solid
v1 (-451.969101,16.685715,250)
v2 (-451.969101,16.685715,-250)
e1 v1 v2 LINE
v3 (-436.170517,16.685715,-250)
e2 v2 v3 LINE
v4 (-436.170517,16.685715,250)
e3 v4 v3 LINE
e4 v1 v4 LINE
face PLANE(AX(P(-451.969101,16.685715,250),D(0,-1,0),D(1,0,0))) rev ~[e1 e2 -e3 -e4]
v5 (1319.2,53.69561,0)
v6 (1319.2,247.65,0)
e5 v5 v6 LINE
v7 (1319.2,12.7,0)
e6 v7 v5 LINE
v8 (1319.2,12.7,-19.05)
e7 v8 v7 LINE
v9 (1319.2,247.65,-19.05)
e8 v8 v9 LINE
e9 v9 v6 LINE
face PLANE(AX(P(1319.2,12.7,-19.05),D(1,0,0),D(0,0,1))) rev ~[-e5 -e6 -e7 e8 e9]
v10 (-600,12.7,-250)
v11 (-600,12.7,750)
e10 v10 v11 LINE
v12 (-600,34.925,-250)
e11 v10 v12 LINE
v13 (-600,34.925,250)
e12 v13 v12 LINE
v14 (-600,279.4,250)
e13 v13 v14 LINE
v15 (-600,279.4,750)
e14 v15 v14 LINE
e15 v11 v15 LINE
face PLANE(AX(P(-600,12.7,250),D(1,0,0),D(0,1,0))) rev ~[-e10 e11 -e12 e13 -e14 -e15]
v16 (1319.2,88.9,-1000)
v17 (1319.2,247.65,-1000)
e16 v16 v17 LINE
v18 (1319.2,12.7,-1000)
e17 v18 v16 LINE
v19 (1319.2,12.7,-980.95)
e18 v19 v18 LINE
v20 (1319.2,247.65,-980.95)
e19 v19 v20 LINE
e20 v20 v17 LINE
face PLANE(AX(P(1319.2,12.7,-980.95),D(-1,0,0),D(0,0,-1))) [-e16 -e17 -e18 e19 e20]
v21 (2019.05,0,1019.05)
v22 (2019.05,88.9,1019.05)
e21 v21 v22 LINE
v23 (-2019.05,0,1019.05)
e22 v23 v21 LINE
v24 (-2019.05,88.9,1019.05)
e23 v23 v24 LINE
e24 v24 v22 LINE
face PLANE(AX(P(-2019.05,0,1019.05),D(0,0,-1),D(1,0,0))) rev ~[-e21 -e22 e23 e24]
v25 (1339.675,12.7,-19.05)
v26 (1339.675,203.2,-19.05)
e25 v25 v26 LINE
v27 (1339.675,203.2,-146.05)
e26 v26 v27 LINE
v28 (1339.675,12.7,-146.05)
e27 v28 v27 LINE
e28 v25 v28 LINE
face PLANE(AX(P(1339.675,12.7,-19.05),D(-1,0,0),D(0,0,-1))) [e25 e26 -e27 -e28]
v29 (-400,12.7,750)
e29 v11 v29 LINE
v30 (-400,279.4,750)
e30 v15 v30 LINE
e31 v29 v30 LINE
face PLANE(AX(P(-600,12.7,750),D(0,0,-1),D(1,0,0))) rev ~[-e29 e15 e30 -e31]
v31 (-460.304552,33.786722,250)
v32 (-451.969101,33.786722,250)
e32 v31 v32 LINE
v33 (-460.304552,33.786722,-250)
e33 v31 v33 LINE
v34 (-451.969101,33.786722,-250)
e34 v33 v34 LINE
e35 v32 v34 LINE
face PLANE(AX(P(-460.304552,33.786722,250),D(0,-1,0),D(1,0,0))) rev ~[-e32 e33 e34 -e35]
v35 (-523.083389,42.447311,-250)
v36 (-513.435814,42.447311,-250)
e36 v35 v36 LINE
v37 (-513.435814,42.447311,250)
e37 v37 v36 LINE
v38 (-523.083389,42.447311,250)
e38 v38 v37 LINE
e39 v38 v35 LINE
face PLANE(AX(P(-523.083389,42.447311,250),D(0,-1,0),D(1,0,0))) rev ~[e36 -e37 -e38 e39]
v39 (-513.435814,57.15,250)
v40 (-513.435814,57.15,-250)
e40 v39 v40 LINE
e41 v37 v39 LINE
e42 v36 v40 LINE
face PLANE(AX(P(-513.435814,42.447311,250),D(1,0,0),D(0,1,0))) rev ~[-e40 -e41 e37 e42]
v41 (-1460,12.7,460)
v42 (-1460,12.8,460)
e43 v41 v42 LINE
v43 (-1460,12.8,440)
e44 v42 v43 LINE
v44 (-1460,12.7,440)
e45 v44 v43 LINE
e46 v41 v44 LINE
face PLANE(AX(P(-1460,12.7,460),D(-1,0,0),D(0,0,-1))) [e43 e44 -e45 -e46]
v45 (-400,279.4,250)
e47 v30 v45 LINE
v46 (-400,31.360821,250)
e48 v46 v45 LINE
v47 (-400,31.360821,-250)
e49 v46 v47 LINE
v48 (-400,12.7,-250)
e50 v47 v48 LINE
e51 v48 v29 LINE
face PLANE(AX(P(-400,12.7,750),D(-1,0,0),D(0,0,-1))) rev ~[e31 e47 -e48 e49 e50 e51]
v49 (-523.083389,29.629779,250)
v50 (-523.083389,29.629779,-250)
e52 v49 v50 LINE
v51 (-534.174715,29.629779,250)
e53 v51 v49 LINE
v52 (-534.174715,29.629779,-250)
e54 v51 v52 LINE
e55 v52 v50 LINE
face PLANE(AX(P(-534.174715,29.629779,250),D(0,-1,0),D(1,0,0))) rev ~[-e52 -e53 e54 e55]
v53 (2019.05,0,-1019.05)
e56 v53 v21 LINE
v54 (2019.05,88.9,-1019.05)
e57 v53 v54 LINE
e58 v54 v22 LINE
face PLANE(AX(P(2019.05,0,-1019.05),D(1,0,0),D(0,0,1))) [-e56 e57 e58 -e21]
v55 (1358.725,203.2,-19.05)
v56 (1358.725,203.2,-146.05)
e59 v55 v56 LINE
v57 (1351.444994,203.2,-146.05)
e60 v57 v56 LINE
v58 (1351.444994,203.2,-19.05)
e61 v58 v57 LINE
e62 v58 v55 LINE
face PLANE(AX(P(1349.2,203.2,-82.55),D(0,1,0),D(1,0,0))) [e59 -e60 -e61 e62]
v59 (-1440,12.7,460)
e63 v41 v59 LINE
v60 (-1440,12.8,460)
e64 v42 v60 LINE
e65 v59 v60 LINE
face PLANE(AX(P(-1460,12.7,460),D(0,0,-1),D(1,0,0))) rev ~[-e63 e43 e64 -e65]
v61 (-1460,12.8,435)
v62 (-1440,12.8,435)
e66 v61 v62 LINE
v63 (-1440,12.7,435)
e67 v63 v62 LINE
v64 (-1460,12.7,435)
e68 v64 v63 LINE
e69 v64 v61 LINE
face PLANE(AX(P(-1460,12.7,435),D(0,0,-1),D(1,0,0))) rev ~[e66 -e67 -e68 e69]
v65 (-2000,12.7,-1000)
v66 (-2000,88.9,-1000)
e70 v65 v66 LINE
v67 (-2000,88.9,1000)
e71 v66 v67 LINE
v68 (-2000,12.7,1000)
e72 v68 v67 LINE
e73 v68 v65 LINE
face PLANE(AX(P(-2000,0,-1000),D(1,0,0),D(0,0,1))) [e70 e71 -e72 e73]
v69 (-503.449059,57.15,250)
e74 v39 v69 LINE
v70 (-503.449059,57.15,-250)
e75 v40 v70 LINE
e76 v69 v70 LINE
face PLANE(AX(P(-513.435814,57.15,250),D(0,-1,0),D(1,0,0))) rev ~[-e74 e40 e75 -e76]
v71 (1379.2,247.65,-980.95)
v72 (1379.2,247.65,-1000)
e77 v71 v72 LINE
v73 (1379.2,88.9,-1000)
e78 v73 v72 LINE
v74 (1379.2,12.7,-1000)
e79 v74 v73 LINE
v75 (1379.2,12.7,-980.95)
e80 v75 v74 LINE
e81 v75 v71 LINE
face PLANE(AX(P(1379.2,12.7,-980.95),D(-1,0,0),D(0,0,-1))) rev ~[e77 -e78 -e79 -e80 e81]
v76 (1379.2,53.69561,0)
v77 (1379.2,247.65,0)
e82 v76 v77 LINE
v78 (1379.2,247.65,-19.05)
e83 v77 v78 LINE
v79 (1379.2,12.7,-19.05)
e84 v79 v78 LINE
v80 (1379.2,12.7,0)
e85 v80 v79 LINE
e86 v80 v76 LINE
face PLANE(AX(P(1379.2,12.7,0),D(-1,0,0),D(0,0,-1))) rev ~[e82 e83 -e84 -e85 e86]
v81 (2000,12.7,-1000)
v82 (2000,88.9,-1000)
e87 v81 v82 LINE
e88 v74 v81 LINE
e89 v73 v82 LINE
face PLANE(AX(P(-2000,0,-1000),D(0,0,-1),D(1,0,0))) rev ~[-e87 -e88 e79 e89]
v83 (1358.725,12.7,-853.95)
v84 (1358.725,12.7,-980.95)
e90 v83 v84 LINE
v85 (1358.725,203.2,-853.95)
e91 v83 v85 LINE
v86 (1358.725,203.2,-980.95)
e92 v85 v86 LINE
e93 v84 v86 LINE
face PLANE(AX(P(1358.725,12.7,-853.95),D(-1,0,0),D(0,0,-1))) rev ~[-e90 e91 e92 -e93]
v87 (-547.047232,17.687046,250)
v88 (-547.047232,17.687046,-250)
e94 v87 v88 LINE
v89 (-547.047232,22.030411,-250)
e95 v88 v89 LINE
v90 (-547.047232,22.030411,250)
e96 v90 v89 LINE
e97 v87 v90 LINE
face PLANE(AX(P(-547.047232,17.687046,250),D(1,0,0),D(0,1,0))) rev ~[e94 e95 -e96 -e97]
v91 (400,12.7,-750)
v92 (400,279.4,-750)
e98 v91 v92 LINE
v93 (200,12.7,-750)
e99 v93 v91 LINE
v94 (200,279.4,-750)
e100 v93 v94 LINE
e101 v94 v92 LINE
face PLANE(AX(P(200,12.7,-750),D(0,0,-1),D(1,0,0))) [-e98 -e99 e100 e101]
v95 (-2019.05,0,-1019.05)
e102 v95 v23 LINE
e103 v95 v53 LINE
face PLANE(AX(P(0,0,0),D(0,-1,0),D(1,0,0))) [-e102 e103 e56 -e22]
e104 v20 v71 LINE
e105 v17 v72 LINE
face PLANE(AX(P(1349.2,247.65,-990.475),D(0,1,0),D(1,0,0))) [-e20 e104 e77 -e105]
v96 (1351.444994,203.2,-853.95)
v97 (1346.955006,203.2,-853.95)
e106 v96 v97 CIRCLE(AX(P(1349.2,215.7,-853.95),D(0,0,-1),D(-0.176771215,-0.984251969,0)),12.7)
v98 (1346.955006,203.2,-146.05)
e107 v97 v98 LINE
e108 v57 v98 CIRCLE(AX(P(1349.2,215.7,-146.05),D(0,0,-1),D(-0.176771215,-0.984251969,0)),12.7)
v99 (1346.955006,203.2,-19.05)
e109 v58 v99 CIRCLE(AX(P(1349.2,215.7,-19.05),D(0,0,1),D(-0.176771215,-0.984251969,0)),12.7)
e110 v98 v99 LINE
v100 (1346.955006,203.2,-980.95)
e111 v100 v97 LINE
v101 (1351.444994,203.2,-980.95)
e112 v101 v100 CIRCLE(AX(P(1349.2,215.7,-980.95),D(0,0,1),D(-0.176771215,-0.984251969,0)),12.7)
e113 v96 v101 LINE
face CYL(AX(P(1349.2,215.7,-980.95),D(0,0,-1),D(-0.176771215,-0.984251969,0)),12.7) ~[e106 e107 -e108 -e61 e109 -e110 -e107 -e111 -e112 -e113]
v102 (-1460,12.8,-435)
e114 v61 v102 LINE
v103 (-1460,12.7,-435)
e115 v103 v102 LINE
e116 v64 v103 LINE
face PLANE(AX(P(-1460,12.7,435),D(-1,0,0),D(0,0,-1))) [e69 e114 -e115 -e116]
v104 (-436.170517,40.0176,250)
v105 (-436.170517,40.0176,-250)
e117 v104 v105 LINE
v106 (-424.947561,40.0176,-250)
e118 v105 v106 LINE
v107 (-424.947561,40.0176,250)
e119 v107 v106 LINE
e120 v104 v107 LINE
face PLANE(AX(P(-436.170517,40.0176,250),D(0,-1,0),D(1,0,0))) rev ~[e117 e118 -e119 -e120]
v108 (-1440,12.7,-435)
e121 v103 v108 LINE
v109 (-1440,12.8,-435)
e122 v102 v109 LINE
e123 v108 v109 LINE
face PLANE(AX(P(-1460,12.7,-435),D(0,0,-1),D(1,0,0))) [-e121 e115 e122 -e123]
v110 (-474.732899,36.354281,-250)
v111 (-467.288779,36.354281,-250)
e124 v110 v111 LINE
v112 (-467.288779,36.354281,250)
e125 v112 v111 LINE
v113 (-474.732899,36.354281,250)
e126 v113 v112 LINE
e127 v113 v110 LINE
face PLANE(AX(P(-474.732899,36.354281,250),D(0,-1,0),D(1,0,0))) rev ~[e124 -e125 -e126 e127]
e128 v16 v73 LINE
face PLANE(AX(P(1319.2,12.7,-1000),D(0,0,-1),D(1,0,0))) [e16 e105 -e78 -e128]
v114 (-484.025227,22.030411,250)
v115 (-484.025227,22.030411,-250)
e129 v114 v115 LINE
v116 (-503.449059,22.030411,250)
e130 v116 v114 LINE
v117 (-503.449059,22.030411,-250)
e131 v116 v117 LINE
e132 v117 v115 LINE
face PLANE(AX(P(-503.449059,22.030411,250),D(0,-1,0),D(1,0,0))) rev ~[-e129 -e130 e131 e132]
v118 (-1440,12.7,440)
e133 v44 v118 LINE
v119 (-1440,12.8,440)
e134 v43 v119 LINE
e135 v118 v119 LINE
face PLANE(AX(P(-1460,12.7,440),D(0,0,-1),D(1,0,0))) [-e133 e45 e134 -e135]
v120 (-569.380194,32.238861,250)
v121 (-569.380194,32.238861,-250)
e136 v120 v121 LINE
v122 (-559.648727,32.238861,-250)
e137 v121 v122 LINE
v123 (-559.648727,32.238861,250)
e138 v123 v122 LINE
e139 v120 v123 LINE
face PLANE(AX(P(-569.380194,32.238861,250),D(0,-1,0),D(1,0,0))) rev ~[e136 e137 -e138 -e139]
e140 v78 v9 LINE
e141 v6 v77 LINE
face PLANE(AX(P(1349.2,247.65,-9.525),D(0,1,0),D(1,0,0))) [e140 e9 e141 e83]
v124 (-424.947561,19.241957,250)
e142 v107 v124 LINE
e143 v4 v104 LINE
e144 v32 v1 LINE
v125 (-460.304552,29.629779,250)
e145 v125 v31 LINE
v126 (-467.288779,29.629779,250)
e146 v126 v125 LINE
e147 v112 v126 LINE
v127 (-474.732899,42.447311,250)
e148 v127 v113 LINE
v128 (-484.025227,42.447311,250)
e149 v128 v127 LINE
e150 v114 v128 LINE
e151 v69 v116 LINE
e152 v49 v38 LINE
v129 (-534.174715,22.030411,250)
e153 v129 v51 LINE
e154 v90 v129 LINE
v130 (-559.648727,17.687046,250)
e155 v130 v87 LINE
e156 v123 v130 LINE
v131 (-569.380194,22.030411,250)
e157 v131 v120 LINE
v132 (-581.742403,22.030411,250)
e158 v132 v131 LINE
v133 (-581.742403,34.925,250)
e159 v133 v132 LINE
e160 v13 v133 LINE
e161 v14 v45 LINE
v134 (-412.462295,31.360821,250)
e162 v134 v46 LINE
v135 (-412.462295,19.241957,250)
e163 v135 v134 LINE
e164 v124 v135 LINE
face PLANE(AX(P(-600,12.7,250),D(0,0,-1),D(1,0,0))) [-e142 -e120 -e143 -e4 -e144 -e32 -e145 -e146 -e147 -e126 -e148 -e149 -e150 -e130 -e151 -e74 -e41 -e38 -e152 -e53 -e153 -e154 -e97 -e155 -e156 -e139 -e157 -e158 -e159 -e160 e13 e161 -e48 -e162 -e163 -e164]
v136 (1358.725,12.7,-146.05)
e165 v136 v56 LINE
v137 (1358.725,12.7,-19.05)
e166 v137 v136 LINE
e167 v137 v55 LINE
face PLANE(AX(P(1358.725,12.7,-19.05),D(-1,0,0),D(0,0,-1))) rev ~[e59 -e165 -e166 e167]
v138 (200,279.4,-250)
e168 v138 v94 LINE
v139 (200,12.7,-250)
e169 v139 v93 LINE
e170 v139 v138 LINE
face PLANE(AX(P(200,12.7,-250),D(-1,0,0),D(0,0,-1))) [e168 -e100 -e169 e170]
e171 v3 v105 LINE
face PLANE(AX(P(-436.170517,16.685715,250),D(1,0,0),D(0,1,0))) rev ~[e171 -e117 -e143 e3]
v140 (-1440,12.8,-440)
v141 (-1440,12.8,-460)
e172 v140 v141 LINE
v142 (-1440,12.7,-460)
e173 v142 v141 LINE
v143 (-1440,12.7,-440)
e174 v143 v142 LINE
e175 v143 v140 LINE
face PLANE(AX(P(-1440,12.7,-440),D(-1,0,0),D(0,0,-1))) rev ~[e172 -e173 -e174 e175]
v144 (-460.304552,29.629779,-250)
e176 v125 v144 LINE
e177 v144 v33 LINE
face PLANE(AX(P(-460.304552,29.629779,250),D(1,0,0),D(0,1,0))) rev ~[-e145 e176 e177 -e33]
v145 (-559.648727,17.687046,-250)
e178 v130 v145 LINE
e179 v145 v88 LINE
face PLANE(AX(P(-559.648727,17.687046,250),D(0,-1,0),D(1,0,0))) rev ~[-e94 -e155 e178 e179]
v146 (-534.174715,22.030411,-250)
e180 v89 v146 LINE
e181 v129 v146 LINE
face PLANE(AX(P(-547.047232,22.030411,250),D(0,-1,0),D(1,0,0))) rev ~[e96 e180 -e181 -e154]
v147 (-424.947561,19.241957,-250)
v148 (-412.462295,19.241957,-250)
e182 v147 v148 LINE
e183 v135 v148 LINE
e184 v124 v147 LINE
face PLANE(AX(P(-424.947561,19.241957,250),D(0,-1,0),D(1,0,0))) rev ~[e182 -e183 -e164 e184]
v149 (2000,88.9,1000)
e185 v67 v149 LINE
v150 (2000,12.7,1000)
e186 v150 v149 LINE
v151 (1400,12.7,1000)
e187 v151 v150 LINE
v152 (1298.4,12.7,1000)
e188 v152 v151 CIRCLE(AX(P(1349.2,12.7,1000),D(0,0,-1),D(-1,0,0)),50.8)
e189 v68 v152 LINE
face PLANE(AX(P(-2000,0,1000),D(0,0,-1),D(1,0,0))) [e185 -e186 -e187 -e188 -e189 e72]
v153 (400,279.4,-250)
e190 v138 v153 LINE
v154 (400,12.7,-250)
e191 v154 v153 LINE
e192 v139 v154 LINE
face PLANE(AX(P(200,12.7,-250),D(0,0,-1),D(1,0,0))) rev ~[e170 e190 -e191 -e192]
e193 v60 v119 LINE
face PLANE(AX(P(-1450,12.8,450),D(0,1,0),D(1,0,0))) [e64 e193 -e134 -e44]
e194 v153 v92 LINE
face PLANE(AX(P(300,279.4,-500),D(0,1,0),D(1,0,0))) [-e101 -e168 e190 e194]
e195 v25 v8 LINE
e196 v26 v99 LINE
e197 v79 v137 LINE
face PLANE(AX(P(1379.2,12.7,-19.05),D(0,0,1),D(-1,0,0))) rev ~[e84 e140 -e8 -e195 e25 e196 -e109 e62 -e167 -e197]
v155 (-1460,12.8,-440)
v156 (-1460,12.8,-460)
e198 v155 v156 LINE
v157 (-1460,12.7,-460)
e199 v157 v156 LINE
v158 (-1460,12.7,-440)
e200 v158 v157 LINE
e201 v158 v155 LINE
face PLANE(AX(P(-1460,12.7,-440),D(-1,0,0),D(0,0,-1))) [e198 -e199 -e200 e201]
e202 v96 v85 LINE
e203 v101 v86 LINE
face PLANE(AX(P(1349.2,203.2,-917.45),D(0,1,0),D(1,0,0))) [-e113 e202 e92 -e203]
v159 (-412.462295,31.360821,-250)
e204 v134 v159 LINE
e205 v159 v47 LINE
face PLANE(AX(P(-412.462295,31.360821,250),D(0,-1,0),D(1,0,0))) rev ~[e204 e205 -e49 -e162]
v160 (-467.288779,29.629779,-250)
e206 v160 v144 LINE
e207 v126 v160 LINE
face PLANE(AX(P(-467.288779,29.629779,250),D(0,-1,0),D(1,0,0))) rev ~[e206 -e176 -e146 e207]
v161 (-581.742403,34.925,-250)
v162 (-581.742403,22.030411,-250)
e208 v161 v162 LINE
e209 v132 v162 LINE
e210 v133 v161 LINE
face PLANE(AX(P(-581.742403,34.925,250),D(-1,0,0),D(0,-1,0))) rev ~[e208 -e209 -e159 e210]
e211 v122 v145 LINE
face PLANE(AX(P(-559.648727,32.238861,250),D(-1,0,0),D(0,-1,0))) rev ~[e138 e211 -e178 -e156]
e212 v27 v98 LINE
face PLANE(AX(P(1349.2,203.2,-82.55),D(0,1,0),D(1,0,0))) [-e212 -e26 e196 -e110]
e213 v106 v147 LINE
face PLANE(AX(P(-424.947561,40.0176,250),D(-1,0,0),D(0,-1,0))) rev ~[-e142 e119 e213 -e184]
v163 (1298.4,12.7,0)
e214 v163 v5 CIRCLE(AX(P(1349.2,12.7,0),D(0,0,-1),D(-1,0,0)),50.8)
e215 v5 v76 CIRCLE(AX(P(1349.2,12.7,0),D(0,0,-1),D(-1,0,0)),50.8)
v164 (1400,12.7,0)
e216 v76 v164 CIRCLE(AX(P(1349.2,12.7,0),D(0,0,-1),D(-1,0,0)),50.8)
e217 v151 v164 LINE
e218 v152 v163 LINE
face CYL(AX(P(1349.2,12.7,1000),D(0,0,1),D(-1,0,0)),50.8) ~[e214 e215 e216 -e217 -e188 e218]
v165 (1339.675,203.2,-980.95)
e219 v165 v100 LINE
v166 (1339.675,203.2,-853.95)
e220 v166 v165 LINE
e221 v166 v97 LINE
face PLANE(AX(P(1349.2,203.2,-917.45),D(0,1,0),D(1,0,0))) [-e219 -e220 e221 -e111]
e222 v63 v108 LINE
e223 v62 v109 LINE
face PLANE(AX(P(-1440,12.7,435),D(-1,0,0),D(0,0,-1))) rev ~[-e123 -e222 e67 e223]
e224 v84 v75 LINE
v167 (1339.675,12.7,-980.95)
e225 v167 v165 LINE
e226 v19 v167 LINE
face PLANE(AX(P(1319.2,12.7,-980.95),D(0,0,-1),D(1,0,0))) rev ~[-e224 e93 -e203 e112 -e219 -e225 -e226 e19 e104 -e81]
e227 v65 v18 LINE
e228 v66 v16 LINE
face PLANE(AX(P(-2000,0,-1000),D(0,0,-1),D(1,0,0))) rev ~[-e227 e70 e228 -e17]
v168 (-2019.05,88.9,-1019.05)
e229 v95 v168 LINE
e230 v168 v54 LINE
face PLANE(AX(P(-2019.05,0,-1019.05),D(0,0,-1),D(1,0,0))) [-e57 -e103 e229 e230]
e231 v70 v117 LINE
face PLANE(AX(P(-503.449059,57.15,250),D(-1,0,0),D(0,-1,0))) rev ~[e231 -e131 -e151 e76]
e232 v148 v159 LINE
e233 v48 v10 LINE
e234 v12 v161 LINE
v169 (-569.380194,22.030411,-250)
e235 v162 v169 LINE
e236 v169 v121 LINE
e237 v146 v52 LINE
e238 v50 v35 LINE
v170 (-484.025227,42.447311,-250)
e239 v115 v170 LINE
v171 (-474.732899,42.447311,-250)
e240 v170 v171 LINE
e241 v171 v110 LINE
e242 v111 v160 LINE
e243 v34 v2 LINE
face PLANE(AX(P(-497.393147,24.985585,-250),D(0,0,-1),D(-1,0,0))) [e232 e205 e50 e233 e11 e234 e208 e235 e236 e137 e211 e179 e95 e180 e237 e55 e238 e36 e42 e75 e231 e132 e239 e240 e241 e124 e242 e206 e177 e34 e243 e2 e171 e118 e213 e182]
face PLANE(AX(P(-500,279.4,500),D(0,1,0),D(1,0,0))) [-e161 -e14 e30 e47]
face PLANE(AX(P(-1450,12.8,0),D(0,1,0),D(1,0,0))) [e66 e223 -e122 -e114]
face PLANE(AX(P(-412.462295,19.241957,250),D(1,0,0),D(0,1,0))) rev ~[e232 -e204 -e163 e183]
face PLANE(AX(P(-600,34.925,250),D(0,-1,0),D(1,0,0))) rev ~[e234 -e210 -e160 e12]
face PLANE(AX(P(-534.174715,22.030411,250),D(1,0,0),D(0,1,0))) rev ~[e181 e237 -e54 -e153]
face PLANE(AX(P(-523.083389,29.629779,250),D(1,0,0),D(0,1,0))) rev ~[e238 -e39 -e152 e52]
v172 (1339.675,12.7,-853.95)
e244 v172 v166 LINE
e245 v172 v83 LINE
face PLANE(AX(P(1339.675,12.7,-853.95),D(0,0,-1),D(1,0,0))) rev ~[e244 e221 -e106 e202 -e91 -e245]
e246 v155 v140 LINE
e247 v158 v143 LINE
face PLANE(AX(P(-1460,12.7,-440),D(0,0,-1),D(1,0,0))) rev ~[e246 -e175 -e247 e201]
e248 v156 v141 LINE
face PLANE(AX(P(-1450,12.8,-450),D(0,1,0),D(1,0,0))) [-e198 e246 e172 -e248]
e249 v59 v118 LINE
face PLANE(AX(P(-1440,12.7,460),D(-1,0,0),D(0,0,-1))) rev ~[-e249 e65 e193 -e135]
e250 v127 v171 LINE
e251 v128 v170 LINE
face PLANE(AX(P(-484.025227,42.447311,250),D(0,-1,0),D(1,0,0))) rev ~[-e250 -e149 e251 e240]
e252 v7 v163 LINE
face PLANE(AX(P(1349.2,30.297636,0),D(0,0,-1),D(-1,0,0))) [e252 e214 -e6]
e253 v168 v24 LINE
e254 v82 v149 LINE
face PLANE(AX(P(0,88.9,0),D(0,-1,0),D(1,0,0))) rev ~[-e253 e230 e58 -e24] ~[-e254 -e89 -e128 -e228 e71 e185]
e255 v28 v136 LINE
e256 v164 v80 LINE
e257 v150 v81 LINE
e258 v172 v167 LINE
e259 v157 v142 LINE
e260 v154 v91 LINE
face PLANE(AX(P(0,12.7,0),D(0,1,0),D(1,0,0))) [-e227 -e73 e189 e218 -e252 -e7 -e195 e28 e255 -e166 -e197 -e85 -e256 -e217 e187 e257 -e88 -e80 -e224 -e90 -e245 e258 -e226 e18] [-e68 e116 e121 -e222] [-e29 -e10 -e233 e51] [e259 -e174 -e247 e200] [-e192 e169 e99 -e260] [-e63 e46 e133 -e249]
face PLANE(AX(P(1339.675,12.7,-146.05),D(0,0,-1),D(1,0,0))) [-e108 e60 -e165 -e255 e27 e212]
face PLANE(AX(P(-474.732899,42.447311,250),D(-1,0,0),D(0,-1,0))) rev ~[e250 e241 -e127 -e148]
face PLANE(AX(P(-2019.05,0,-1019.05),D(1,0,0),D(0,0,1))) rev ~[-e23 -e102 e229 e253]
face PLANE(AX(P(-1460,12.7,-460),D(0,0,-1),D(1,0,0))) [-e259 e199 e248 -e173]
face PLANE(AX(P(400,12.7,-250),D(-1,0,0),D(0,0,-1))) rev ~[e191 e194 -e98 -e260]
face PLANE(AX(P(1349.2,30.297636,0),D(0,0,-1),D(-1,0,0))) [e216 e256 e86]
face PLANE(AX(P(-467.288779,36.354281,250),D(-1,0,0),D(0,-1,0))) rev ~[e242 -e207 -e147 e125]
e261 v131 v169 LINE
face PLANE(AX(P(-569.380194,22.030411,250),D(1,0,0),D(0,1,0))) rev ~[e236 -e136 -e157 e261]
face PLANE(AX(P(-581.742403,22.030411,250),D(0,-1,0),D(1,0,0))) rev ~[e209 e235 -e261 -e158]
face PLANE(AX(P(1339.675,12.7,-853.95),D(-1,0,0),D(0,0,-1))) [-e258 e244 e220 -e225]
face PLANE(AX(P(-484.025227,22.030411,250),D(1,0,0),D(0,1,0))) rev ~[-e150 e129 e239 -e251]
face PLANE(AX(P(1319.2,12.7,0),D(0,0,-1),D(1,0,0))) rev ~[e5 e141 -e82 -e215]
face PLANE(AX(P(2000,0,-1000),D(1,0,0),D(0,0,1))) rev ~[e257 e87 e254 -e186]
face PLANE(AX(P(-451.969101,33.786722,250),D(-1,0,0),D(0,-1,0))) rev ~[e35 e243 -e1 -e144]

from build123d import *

# Parameters (mm, degrees)
SKETCH1_W            = 4000
SKETCH1_H            = 2000
BOSS_EXTRUDE1_DEPTH  = 12.7
SKETCH3_W            = 4038.1
SKETCH3_H            = 2038.1
SKETCH3_W_2          = 4000
SKETCH3_H_2          = 2000
BOSS_EXTRUDE2_DEPTH  = 88.9
SKETCH4_W            = 20
SKETCH4_H            = 20
BOSS_EXTRUDE3_DEPTH  = 0.1
SKETCH5_W            = 20
SKETCH5_H            = 870
BOSS_EXTRUDE4_DEPTH  = 0.1
BOSS_EXTRUDE5_DEPTH  = 1000
SKETCH7_W            = 60
SKETCH7_H            = 19.05
BOSS_EXTRUDE6_DEPTH  = 234.95
SKETCH8_W            = 19.05
SKETCH8_H            = 127
BOSS_EXTRUDE7_DEPTH  = 190.5
SKETCH9_R            = 12.7
BOSS_EXTRUDE10_DEPTH = 961.9
SKETCH10_W           = 200
SKETCH10_H           = 500
BOSS_EXTRUDE11_DEPTH = 266.7
BOSS_EXTRUDE12_DEPTH = 500


with BuildPart() as part:
    # Sketch1 → Boss-Extrude1 (new body)
    with BuildSketch(Plane(origin=(0, 0, 0), x_dir=(1, 0, 0), z_dir=(0, 1, 0))):
        Rectangle(SKETCH1_W, SKETCH1_H)
    extrude(amount=BOSS_EXTRUDE1_DEPTH)

    # Sketch3 → Boss-Extrude2 (add)
    with BuildSketch(Plane.XZ):
        Rectangle(SKETCH3_W, SKETCH3_H)
        Rectangle(SKETCH3_W_2, SKETCH3_H_2, mode=Mode.SUBTRACT)
    extrude(amount=-BOSS_EXTRUDE2_DEPTH)

    # Sketch4 → Boss-Extrude3 (add)
    with BuildSketch(Plane(origin=(0, 12.7, 0), x_dir=(1, 0, 0), z_dir=(0, 1, 0))):
        with Locations((-1450, -450)):
            Rectangle(SKETCH4_W, SKETCH4_H)
        with Locations((-1450, 450)):
            Rectangle(SKETCH4_W, SKETCH4_H)
    extrude(amount=BOSS_EXTRUDE3_DEPTH)

    # Sketch5 → Boss-Extrude4 (add)
    with BuildSketch(Plane(origin=(0, 12.7, 0), x_dir=(1, 0, 0), z_dir=(0, 1, 0))):
        with Locations((-1450, 0)):
            Rectangle(SKETCH5_W, SKETCH5_H)
    extrude(amount=BOSS_EXTRUDE4_DEPTH)

    # Sketch6 → Boss-Extrude5 (add)
    with BuildSketch(Plane(origin=(0, 0, 1000), x_dir=(-1, 0, 0), z_dir=(0, 0, -1))):
        with BuildLine():
            Line((-1400, 12.7), (-1298.4, 12.7))
            ThreePointArc((-1298.4, 12.7), (-1349.2, 63.5), (-1400, 12.7))
        make_face()
    extrude(amount=BOSS_EXTRUDE5_DEPTH)

    # Sketch7 → Boss-Extrude6 (add)
    with BuildSketch(Plane(origin=(0, 12.7, 0), x_dir=(1, 0, 0), z_dir=(0, 1, 0))):
        Polygon((1319.2, 19.05), (1319.2, 0), (1379.2, 0), (1379.2, 19.05), (1358.725, 19.05), (1339.675, 19.05), align=None)
        with Locations((1349.2, 990.475)):
            Rectangle(SKETCH7_W, SKETCH7_H)
    extrude(amount=BOSS_EXTRUDE6_DEPTH)

    # Sketch8 → Boss-Extrude7 (add)
    with BuildSketch(Plane(origin=(0, 12.7, 0), x_dir=(1, 0, 0), z_dir=(0, 1, 0))):
        with Locations((1349.2, 82.55)):
            Rectangle(SKETCH8_W, SKETCH8_H)
        with Locations((1349.2, 917.45)):
            Rectangle(SKETCH8_W, SKETCH8_H)
    extrude(amount=BOSS_EXTRUDE7_DEPTH)

    # Sketch9 → Boss-Extrude10 (add)
    with BuildSketch(Plane.XY.offset(-980.95)):
        with Locations(Location((1349.2, 215.7, 0), (0, 0, 259.818251612))):
            Circle(SKETCH9_R)
    extrude(amount=BOSS_EXTRUDE10_DEPTH)

    # Sketch10 → Boss-Extrude11 (add)
    with BuildSketch(Plane(origin=(0, 12.7, 0), x_dir=(1, 0, 0), z_dir=(0, 1, 0))):
        with Locations((-500, -500)):
            Rectangle(SKETCH10_W, SKETCH10_H)
        with Locations((300, 500)):
            Rectangle(SKETCH10_W, SKETCH10_H)
    extrude(amount=BOSS_EXTRUDE11_DEPTH)

    # Sketch11 → Boss-Extrude12 (add)
    with BuildSketch(Plane(origin=(0, 0, 250), x_dir=(-1, 0, 0), z_dir=(0, 0, -1))):
        Polygon((400, 12.7), (600, 12.7), (600, 34.925), (581.742402613, 34.925), (581.742402613, 22.030410547), (569.380193931, 22.030410547), (569.380193931, 32.238860877), (559.648727247, 32.238860877), (559.648727247, 17.687045982), (547.047232043, 17.687045982), (547.047232043, 22.030410547), (534.174715465, 22.030410547), (534.174715465, 29.629778615), (523.08338878, 29.629778615), (523.08338878, 42.447311207), (513.43581408, 42.447311207), (513.43581408, 57.15), (503.449058841, 57.15), (503.449058841, 22.030410547), (484.025227404, 22.030410547), (484.025227404, 42.447311207), (474.732898947, 42.447311207), (474.732898947, 36.354281235), (467.288779018, 36.354281235), (467.288779018, 29.629778615), (460.304552482, 29.629778615), (460.304552482, 33.786722079), (451.969100899, 33.786722079), (451.969100899, 16.685714799), (436.17051685, 16.685714799), (436.17051685, 40.017600307), (424.947561297, 40.017600307), (424.947561297, 19.241956924), (412.462295028, 19.241956924), (412.462295028, 31.360821094), (400, 31.360821094), align=None)
    extrude(amount=BOSS_EXTRUDE12_DEPTH)


solid = part.part
